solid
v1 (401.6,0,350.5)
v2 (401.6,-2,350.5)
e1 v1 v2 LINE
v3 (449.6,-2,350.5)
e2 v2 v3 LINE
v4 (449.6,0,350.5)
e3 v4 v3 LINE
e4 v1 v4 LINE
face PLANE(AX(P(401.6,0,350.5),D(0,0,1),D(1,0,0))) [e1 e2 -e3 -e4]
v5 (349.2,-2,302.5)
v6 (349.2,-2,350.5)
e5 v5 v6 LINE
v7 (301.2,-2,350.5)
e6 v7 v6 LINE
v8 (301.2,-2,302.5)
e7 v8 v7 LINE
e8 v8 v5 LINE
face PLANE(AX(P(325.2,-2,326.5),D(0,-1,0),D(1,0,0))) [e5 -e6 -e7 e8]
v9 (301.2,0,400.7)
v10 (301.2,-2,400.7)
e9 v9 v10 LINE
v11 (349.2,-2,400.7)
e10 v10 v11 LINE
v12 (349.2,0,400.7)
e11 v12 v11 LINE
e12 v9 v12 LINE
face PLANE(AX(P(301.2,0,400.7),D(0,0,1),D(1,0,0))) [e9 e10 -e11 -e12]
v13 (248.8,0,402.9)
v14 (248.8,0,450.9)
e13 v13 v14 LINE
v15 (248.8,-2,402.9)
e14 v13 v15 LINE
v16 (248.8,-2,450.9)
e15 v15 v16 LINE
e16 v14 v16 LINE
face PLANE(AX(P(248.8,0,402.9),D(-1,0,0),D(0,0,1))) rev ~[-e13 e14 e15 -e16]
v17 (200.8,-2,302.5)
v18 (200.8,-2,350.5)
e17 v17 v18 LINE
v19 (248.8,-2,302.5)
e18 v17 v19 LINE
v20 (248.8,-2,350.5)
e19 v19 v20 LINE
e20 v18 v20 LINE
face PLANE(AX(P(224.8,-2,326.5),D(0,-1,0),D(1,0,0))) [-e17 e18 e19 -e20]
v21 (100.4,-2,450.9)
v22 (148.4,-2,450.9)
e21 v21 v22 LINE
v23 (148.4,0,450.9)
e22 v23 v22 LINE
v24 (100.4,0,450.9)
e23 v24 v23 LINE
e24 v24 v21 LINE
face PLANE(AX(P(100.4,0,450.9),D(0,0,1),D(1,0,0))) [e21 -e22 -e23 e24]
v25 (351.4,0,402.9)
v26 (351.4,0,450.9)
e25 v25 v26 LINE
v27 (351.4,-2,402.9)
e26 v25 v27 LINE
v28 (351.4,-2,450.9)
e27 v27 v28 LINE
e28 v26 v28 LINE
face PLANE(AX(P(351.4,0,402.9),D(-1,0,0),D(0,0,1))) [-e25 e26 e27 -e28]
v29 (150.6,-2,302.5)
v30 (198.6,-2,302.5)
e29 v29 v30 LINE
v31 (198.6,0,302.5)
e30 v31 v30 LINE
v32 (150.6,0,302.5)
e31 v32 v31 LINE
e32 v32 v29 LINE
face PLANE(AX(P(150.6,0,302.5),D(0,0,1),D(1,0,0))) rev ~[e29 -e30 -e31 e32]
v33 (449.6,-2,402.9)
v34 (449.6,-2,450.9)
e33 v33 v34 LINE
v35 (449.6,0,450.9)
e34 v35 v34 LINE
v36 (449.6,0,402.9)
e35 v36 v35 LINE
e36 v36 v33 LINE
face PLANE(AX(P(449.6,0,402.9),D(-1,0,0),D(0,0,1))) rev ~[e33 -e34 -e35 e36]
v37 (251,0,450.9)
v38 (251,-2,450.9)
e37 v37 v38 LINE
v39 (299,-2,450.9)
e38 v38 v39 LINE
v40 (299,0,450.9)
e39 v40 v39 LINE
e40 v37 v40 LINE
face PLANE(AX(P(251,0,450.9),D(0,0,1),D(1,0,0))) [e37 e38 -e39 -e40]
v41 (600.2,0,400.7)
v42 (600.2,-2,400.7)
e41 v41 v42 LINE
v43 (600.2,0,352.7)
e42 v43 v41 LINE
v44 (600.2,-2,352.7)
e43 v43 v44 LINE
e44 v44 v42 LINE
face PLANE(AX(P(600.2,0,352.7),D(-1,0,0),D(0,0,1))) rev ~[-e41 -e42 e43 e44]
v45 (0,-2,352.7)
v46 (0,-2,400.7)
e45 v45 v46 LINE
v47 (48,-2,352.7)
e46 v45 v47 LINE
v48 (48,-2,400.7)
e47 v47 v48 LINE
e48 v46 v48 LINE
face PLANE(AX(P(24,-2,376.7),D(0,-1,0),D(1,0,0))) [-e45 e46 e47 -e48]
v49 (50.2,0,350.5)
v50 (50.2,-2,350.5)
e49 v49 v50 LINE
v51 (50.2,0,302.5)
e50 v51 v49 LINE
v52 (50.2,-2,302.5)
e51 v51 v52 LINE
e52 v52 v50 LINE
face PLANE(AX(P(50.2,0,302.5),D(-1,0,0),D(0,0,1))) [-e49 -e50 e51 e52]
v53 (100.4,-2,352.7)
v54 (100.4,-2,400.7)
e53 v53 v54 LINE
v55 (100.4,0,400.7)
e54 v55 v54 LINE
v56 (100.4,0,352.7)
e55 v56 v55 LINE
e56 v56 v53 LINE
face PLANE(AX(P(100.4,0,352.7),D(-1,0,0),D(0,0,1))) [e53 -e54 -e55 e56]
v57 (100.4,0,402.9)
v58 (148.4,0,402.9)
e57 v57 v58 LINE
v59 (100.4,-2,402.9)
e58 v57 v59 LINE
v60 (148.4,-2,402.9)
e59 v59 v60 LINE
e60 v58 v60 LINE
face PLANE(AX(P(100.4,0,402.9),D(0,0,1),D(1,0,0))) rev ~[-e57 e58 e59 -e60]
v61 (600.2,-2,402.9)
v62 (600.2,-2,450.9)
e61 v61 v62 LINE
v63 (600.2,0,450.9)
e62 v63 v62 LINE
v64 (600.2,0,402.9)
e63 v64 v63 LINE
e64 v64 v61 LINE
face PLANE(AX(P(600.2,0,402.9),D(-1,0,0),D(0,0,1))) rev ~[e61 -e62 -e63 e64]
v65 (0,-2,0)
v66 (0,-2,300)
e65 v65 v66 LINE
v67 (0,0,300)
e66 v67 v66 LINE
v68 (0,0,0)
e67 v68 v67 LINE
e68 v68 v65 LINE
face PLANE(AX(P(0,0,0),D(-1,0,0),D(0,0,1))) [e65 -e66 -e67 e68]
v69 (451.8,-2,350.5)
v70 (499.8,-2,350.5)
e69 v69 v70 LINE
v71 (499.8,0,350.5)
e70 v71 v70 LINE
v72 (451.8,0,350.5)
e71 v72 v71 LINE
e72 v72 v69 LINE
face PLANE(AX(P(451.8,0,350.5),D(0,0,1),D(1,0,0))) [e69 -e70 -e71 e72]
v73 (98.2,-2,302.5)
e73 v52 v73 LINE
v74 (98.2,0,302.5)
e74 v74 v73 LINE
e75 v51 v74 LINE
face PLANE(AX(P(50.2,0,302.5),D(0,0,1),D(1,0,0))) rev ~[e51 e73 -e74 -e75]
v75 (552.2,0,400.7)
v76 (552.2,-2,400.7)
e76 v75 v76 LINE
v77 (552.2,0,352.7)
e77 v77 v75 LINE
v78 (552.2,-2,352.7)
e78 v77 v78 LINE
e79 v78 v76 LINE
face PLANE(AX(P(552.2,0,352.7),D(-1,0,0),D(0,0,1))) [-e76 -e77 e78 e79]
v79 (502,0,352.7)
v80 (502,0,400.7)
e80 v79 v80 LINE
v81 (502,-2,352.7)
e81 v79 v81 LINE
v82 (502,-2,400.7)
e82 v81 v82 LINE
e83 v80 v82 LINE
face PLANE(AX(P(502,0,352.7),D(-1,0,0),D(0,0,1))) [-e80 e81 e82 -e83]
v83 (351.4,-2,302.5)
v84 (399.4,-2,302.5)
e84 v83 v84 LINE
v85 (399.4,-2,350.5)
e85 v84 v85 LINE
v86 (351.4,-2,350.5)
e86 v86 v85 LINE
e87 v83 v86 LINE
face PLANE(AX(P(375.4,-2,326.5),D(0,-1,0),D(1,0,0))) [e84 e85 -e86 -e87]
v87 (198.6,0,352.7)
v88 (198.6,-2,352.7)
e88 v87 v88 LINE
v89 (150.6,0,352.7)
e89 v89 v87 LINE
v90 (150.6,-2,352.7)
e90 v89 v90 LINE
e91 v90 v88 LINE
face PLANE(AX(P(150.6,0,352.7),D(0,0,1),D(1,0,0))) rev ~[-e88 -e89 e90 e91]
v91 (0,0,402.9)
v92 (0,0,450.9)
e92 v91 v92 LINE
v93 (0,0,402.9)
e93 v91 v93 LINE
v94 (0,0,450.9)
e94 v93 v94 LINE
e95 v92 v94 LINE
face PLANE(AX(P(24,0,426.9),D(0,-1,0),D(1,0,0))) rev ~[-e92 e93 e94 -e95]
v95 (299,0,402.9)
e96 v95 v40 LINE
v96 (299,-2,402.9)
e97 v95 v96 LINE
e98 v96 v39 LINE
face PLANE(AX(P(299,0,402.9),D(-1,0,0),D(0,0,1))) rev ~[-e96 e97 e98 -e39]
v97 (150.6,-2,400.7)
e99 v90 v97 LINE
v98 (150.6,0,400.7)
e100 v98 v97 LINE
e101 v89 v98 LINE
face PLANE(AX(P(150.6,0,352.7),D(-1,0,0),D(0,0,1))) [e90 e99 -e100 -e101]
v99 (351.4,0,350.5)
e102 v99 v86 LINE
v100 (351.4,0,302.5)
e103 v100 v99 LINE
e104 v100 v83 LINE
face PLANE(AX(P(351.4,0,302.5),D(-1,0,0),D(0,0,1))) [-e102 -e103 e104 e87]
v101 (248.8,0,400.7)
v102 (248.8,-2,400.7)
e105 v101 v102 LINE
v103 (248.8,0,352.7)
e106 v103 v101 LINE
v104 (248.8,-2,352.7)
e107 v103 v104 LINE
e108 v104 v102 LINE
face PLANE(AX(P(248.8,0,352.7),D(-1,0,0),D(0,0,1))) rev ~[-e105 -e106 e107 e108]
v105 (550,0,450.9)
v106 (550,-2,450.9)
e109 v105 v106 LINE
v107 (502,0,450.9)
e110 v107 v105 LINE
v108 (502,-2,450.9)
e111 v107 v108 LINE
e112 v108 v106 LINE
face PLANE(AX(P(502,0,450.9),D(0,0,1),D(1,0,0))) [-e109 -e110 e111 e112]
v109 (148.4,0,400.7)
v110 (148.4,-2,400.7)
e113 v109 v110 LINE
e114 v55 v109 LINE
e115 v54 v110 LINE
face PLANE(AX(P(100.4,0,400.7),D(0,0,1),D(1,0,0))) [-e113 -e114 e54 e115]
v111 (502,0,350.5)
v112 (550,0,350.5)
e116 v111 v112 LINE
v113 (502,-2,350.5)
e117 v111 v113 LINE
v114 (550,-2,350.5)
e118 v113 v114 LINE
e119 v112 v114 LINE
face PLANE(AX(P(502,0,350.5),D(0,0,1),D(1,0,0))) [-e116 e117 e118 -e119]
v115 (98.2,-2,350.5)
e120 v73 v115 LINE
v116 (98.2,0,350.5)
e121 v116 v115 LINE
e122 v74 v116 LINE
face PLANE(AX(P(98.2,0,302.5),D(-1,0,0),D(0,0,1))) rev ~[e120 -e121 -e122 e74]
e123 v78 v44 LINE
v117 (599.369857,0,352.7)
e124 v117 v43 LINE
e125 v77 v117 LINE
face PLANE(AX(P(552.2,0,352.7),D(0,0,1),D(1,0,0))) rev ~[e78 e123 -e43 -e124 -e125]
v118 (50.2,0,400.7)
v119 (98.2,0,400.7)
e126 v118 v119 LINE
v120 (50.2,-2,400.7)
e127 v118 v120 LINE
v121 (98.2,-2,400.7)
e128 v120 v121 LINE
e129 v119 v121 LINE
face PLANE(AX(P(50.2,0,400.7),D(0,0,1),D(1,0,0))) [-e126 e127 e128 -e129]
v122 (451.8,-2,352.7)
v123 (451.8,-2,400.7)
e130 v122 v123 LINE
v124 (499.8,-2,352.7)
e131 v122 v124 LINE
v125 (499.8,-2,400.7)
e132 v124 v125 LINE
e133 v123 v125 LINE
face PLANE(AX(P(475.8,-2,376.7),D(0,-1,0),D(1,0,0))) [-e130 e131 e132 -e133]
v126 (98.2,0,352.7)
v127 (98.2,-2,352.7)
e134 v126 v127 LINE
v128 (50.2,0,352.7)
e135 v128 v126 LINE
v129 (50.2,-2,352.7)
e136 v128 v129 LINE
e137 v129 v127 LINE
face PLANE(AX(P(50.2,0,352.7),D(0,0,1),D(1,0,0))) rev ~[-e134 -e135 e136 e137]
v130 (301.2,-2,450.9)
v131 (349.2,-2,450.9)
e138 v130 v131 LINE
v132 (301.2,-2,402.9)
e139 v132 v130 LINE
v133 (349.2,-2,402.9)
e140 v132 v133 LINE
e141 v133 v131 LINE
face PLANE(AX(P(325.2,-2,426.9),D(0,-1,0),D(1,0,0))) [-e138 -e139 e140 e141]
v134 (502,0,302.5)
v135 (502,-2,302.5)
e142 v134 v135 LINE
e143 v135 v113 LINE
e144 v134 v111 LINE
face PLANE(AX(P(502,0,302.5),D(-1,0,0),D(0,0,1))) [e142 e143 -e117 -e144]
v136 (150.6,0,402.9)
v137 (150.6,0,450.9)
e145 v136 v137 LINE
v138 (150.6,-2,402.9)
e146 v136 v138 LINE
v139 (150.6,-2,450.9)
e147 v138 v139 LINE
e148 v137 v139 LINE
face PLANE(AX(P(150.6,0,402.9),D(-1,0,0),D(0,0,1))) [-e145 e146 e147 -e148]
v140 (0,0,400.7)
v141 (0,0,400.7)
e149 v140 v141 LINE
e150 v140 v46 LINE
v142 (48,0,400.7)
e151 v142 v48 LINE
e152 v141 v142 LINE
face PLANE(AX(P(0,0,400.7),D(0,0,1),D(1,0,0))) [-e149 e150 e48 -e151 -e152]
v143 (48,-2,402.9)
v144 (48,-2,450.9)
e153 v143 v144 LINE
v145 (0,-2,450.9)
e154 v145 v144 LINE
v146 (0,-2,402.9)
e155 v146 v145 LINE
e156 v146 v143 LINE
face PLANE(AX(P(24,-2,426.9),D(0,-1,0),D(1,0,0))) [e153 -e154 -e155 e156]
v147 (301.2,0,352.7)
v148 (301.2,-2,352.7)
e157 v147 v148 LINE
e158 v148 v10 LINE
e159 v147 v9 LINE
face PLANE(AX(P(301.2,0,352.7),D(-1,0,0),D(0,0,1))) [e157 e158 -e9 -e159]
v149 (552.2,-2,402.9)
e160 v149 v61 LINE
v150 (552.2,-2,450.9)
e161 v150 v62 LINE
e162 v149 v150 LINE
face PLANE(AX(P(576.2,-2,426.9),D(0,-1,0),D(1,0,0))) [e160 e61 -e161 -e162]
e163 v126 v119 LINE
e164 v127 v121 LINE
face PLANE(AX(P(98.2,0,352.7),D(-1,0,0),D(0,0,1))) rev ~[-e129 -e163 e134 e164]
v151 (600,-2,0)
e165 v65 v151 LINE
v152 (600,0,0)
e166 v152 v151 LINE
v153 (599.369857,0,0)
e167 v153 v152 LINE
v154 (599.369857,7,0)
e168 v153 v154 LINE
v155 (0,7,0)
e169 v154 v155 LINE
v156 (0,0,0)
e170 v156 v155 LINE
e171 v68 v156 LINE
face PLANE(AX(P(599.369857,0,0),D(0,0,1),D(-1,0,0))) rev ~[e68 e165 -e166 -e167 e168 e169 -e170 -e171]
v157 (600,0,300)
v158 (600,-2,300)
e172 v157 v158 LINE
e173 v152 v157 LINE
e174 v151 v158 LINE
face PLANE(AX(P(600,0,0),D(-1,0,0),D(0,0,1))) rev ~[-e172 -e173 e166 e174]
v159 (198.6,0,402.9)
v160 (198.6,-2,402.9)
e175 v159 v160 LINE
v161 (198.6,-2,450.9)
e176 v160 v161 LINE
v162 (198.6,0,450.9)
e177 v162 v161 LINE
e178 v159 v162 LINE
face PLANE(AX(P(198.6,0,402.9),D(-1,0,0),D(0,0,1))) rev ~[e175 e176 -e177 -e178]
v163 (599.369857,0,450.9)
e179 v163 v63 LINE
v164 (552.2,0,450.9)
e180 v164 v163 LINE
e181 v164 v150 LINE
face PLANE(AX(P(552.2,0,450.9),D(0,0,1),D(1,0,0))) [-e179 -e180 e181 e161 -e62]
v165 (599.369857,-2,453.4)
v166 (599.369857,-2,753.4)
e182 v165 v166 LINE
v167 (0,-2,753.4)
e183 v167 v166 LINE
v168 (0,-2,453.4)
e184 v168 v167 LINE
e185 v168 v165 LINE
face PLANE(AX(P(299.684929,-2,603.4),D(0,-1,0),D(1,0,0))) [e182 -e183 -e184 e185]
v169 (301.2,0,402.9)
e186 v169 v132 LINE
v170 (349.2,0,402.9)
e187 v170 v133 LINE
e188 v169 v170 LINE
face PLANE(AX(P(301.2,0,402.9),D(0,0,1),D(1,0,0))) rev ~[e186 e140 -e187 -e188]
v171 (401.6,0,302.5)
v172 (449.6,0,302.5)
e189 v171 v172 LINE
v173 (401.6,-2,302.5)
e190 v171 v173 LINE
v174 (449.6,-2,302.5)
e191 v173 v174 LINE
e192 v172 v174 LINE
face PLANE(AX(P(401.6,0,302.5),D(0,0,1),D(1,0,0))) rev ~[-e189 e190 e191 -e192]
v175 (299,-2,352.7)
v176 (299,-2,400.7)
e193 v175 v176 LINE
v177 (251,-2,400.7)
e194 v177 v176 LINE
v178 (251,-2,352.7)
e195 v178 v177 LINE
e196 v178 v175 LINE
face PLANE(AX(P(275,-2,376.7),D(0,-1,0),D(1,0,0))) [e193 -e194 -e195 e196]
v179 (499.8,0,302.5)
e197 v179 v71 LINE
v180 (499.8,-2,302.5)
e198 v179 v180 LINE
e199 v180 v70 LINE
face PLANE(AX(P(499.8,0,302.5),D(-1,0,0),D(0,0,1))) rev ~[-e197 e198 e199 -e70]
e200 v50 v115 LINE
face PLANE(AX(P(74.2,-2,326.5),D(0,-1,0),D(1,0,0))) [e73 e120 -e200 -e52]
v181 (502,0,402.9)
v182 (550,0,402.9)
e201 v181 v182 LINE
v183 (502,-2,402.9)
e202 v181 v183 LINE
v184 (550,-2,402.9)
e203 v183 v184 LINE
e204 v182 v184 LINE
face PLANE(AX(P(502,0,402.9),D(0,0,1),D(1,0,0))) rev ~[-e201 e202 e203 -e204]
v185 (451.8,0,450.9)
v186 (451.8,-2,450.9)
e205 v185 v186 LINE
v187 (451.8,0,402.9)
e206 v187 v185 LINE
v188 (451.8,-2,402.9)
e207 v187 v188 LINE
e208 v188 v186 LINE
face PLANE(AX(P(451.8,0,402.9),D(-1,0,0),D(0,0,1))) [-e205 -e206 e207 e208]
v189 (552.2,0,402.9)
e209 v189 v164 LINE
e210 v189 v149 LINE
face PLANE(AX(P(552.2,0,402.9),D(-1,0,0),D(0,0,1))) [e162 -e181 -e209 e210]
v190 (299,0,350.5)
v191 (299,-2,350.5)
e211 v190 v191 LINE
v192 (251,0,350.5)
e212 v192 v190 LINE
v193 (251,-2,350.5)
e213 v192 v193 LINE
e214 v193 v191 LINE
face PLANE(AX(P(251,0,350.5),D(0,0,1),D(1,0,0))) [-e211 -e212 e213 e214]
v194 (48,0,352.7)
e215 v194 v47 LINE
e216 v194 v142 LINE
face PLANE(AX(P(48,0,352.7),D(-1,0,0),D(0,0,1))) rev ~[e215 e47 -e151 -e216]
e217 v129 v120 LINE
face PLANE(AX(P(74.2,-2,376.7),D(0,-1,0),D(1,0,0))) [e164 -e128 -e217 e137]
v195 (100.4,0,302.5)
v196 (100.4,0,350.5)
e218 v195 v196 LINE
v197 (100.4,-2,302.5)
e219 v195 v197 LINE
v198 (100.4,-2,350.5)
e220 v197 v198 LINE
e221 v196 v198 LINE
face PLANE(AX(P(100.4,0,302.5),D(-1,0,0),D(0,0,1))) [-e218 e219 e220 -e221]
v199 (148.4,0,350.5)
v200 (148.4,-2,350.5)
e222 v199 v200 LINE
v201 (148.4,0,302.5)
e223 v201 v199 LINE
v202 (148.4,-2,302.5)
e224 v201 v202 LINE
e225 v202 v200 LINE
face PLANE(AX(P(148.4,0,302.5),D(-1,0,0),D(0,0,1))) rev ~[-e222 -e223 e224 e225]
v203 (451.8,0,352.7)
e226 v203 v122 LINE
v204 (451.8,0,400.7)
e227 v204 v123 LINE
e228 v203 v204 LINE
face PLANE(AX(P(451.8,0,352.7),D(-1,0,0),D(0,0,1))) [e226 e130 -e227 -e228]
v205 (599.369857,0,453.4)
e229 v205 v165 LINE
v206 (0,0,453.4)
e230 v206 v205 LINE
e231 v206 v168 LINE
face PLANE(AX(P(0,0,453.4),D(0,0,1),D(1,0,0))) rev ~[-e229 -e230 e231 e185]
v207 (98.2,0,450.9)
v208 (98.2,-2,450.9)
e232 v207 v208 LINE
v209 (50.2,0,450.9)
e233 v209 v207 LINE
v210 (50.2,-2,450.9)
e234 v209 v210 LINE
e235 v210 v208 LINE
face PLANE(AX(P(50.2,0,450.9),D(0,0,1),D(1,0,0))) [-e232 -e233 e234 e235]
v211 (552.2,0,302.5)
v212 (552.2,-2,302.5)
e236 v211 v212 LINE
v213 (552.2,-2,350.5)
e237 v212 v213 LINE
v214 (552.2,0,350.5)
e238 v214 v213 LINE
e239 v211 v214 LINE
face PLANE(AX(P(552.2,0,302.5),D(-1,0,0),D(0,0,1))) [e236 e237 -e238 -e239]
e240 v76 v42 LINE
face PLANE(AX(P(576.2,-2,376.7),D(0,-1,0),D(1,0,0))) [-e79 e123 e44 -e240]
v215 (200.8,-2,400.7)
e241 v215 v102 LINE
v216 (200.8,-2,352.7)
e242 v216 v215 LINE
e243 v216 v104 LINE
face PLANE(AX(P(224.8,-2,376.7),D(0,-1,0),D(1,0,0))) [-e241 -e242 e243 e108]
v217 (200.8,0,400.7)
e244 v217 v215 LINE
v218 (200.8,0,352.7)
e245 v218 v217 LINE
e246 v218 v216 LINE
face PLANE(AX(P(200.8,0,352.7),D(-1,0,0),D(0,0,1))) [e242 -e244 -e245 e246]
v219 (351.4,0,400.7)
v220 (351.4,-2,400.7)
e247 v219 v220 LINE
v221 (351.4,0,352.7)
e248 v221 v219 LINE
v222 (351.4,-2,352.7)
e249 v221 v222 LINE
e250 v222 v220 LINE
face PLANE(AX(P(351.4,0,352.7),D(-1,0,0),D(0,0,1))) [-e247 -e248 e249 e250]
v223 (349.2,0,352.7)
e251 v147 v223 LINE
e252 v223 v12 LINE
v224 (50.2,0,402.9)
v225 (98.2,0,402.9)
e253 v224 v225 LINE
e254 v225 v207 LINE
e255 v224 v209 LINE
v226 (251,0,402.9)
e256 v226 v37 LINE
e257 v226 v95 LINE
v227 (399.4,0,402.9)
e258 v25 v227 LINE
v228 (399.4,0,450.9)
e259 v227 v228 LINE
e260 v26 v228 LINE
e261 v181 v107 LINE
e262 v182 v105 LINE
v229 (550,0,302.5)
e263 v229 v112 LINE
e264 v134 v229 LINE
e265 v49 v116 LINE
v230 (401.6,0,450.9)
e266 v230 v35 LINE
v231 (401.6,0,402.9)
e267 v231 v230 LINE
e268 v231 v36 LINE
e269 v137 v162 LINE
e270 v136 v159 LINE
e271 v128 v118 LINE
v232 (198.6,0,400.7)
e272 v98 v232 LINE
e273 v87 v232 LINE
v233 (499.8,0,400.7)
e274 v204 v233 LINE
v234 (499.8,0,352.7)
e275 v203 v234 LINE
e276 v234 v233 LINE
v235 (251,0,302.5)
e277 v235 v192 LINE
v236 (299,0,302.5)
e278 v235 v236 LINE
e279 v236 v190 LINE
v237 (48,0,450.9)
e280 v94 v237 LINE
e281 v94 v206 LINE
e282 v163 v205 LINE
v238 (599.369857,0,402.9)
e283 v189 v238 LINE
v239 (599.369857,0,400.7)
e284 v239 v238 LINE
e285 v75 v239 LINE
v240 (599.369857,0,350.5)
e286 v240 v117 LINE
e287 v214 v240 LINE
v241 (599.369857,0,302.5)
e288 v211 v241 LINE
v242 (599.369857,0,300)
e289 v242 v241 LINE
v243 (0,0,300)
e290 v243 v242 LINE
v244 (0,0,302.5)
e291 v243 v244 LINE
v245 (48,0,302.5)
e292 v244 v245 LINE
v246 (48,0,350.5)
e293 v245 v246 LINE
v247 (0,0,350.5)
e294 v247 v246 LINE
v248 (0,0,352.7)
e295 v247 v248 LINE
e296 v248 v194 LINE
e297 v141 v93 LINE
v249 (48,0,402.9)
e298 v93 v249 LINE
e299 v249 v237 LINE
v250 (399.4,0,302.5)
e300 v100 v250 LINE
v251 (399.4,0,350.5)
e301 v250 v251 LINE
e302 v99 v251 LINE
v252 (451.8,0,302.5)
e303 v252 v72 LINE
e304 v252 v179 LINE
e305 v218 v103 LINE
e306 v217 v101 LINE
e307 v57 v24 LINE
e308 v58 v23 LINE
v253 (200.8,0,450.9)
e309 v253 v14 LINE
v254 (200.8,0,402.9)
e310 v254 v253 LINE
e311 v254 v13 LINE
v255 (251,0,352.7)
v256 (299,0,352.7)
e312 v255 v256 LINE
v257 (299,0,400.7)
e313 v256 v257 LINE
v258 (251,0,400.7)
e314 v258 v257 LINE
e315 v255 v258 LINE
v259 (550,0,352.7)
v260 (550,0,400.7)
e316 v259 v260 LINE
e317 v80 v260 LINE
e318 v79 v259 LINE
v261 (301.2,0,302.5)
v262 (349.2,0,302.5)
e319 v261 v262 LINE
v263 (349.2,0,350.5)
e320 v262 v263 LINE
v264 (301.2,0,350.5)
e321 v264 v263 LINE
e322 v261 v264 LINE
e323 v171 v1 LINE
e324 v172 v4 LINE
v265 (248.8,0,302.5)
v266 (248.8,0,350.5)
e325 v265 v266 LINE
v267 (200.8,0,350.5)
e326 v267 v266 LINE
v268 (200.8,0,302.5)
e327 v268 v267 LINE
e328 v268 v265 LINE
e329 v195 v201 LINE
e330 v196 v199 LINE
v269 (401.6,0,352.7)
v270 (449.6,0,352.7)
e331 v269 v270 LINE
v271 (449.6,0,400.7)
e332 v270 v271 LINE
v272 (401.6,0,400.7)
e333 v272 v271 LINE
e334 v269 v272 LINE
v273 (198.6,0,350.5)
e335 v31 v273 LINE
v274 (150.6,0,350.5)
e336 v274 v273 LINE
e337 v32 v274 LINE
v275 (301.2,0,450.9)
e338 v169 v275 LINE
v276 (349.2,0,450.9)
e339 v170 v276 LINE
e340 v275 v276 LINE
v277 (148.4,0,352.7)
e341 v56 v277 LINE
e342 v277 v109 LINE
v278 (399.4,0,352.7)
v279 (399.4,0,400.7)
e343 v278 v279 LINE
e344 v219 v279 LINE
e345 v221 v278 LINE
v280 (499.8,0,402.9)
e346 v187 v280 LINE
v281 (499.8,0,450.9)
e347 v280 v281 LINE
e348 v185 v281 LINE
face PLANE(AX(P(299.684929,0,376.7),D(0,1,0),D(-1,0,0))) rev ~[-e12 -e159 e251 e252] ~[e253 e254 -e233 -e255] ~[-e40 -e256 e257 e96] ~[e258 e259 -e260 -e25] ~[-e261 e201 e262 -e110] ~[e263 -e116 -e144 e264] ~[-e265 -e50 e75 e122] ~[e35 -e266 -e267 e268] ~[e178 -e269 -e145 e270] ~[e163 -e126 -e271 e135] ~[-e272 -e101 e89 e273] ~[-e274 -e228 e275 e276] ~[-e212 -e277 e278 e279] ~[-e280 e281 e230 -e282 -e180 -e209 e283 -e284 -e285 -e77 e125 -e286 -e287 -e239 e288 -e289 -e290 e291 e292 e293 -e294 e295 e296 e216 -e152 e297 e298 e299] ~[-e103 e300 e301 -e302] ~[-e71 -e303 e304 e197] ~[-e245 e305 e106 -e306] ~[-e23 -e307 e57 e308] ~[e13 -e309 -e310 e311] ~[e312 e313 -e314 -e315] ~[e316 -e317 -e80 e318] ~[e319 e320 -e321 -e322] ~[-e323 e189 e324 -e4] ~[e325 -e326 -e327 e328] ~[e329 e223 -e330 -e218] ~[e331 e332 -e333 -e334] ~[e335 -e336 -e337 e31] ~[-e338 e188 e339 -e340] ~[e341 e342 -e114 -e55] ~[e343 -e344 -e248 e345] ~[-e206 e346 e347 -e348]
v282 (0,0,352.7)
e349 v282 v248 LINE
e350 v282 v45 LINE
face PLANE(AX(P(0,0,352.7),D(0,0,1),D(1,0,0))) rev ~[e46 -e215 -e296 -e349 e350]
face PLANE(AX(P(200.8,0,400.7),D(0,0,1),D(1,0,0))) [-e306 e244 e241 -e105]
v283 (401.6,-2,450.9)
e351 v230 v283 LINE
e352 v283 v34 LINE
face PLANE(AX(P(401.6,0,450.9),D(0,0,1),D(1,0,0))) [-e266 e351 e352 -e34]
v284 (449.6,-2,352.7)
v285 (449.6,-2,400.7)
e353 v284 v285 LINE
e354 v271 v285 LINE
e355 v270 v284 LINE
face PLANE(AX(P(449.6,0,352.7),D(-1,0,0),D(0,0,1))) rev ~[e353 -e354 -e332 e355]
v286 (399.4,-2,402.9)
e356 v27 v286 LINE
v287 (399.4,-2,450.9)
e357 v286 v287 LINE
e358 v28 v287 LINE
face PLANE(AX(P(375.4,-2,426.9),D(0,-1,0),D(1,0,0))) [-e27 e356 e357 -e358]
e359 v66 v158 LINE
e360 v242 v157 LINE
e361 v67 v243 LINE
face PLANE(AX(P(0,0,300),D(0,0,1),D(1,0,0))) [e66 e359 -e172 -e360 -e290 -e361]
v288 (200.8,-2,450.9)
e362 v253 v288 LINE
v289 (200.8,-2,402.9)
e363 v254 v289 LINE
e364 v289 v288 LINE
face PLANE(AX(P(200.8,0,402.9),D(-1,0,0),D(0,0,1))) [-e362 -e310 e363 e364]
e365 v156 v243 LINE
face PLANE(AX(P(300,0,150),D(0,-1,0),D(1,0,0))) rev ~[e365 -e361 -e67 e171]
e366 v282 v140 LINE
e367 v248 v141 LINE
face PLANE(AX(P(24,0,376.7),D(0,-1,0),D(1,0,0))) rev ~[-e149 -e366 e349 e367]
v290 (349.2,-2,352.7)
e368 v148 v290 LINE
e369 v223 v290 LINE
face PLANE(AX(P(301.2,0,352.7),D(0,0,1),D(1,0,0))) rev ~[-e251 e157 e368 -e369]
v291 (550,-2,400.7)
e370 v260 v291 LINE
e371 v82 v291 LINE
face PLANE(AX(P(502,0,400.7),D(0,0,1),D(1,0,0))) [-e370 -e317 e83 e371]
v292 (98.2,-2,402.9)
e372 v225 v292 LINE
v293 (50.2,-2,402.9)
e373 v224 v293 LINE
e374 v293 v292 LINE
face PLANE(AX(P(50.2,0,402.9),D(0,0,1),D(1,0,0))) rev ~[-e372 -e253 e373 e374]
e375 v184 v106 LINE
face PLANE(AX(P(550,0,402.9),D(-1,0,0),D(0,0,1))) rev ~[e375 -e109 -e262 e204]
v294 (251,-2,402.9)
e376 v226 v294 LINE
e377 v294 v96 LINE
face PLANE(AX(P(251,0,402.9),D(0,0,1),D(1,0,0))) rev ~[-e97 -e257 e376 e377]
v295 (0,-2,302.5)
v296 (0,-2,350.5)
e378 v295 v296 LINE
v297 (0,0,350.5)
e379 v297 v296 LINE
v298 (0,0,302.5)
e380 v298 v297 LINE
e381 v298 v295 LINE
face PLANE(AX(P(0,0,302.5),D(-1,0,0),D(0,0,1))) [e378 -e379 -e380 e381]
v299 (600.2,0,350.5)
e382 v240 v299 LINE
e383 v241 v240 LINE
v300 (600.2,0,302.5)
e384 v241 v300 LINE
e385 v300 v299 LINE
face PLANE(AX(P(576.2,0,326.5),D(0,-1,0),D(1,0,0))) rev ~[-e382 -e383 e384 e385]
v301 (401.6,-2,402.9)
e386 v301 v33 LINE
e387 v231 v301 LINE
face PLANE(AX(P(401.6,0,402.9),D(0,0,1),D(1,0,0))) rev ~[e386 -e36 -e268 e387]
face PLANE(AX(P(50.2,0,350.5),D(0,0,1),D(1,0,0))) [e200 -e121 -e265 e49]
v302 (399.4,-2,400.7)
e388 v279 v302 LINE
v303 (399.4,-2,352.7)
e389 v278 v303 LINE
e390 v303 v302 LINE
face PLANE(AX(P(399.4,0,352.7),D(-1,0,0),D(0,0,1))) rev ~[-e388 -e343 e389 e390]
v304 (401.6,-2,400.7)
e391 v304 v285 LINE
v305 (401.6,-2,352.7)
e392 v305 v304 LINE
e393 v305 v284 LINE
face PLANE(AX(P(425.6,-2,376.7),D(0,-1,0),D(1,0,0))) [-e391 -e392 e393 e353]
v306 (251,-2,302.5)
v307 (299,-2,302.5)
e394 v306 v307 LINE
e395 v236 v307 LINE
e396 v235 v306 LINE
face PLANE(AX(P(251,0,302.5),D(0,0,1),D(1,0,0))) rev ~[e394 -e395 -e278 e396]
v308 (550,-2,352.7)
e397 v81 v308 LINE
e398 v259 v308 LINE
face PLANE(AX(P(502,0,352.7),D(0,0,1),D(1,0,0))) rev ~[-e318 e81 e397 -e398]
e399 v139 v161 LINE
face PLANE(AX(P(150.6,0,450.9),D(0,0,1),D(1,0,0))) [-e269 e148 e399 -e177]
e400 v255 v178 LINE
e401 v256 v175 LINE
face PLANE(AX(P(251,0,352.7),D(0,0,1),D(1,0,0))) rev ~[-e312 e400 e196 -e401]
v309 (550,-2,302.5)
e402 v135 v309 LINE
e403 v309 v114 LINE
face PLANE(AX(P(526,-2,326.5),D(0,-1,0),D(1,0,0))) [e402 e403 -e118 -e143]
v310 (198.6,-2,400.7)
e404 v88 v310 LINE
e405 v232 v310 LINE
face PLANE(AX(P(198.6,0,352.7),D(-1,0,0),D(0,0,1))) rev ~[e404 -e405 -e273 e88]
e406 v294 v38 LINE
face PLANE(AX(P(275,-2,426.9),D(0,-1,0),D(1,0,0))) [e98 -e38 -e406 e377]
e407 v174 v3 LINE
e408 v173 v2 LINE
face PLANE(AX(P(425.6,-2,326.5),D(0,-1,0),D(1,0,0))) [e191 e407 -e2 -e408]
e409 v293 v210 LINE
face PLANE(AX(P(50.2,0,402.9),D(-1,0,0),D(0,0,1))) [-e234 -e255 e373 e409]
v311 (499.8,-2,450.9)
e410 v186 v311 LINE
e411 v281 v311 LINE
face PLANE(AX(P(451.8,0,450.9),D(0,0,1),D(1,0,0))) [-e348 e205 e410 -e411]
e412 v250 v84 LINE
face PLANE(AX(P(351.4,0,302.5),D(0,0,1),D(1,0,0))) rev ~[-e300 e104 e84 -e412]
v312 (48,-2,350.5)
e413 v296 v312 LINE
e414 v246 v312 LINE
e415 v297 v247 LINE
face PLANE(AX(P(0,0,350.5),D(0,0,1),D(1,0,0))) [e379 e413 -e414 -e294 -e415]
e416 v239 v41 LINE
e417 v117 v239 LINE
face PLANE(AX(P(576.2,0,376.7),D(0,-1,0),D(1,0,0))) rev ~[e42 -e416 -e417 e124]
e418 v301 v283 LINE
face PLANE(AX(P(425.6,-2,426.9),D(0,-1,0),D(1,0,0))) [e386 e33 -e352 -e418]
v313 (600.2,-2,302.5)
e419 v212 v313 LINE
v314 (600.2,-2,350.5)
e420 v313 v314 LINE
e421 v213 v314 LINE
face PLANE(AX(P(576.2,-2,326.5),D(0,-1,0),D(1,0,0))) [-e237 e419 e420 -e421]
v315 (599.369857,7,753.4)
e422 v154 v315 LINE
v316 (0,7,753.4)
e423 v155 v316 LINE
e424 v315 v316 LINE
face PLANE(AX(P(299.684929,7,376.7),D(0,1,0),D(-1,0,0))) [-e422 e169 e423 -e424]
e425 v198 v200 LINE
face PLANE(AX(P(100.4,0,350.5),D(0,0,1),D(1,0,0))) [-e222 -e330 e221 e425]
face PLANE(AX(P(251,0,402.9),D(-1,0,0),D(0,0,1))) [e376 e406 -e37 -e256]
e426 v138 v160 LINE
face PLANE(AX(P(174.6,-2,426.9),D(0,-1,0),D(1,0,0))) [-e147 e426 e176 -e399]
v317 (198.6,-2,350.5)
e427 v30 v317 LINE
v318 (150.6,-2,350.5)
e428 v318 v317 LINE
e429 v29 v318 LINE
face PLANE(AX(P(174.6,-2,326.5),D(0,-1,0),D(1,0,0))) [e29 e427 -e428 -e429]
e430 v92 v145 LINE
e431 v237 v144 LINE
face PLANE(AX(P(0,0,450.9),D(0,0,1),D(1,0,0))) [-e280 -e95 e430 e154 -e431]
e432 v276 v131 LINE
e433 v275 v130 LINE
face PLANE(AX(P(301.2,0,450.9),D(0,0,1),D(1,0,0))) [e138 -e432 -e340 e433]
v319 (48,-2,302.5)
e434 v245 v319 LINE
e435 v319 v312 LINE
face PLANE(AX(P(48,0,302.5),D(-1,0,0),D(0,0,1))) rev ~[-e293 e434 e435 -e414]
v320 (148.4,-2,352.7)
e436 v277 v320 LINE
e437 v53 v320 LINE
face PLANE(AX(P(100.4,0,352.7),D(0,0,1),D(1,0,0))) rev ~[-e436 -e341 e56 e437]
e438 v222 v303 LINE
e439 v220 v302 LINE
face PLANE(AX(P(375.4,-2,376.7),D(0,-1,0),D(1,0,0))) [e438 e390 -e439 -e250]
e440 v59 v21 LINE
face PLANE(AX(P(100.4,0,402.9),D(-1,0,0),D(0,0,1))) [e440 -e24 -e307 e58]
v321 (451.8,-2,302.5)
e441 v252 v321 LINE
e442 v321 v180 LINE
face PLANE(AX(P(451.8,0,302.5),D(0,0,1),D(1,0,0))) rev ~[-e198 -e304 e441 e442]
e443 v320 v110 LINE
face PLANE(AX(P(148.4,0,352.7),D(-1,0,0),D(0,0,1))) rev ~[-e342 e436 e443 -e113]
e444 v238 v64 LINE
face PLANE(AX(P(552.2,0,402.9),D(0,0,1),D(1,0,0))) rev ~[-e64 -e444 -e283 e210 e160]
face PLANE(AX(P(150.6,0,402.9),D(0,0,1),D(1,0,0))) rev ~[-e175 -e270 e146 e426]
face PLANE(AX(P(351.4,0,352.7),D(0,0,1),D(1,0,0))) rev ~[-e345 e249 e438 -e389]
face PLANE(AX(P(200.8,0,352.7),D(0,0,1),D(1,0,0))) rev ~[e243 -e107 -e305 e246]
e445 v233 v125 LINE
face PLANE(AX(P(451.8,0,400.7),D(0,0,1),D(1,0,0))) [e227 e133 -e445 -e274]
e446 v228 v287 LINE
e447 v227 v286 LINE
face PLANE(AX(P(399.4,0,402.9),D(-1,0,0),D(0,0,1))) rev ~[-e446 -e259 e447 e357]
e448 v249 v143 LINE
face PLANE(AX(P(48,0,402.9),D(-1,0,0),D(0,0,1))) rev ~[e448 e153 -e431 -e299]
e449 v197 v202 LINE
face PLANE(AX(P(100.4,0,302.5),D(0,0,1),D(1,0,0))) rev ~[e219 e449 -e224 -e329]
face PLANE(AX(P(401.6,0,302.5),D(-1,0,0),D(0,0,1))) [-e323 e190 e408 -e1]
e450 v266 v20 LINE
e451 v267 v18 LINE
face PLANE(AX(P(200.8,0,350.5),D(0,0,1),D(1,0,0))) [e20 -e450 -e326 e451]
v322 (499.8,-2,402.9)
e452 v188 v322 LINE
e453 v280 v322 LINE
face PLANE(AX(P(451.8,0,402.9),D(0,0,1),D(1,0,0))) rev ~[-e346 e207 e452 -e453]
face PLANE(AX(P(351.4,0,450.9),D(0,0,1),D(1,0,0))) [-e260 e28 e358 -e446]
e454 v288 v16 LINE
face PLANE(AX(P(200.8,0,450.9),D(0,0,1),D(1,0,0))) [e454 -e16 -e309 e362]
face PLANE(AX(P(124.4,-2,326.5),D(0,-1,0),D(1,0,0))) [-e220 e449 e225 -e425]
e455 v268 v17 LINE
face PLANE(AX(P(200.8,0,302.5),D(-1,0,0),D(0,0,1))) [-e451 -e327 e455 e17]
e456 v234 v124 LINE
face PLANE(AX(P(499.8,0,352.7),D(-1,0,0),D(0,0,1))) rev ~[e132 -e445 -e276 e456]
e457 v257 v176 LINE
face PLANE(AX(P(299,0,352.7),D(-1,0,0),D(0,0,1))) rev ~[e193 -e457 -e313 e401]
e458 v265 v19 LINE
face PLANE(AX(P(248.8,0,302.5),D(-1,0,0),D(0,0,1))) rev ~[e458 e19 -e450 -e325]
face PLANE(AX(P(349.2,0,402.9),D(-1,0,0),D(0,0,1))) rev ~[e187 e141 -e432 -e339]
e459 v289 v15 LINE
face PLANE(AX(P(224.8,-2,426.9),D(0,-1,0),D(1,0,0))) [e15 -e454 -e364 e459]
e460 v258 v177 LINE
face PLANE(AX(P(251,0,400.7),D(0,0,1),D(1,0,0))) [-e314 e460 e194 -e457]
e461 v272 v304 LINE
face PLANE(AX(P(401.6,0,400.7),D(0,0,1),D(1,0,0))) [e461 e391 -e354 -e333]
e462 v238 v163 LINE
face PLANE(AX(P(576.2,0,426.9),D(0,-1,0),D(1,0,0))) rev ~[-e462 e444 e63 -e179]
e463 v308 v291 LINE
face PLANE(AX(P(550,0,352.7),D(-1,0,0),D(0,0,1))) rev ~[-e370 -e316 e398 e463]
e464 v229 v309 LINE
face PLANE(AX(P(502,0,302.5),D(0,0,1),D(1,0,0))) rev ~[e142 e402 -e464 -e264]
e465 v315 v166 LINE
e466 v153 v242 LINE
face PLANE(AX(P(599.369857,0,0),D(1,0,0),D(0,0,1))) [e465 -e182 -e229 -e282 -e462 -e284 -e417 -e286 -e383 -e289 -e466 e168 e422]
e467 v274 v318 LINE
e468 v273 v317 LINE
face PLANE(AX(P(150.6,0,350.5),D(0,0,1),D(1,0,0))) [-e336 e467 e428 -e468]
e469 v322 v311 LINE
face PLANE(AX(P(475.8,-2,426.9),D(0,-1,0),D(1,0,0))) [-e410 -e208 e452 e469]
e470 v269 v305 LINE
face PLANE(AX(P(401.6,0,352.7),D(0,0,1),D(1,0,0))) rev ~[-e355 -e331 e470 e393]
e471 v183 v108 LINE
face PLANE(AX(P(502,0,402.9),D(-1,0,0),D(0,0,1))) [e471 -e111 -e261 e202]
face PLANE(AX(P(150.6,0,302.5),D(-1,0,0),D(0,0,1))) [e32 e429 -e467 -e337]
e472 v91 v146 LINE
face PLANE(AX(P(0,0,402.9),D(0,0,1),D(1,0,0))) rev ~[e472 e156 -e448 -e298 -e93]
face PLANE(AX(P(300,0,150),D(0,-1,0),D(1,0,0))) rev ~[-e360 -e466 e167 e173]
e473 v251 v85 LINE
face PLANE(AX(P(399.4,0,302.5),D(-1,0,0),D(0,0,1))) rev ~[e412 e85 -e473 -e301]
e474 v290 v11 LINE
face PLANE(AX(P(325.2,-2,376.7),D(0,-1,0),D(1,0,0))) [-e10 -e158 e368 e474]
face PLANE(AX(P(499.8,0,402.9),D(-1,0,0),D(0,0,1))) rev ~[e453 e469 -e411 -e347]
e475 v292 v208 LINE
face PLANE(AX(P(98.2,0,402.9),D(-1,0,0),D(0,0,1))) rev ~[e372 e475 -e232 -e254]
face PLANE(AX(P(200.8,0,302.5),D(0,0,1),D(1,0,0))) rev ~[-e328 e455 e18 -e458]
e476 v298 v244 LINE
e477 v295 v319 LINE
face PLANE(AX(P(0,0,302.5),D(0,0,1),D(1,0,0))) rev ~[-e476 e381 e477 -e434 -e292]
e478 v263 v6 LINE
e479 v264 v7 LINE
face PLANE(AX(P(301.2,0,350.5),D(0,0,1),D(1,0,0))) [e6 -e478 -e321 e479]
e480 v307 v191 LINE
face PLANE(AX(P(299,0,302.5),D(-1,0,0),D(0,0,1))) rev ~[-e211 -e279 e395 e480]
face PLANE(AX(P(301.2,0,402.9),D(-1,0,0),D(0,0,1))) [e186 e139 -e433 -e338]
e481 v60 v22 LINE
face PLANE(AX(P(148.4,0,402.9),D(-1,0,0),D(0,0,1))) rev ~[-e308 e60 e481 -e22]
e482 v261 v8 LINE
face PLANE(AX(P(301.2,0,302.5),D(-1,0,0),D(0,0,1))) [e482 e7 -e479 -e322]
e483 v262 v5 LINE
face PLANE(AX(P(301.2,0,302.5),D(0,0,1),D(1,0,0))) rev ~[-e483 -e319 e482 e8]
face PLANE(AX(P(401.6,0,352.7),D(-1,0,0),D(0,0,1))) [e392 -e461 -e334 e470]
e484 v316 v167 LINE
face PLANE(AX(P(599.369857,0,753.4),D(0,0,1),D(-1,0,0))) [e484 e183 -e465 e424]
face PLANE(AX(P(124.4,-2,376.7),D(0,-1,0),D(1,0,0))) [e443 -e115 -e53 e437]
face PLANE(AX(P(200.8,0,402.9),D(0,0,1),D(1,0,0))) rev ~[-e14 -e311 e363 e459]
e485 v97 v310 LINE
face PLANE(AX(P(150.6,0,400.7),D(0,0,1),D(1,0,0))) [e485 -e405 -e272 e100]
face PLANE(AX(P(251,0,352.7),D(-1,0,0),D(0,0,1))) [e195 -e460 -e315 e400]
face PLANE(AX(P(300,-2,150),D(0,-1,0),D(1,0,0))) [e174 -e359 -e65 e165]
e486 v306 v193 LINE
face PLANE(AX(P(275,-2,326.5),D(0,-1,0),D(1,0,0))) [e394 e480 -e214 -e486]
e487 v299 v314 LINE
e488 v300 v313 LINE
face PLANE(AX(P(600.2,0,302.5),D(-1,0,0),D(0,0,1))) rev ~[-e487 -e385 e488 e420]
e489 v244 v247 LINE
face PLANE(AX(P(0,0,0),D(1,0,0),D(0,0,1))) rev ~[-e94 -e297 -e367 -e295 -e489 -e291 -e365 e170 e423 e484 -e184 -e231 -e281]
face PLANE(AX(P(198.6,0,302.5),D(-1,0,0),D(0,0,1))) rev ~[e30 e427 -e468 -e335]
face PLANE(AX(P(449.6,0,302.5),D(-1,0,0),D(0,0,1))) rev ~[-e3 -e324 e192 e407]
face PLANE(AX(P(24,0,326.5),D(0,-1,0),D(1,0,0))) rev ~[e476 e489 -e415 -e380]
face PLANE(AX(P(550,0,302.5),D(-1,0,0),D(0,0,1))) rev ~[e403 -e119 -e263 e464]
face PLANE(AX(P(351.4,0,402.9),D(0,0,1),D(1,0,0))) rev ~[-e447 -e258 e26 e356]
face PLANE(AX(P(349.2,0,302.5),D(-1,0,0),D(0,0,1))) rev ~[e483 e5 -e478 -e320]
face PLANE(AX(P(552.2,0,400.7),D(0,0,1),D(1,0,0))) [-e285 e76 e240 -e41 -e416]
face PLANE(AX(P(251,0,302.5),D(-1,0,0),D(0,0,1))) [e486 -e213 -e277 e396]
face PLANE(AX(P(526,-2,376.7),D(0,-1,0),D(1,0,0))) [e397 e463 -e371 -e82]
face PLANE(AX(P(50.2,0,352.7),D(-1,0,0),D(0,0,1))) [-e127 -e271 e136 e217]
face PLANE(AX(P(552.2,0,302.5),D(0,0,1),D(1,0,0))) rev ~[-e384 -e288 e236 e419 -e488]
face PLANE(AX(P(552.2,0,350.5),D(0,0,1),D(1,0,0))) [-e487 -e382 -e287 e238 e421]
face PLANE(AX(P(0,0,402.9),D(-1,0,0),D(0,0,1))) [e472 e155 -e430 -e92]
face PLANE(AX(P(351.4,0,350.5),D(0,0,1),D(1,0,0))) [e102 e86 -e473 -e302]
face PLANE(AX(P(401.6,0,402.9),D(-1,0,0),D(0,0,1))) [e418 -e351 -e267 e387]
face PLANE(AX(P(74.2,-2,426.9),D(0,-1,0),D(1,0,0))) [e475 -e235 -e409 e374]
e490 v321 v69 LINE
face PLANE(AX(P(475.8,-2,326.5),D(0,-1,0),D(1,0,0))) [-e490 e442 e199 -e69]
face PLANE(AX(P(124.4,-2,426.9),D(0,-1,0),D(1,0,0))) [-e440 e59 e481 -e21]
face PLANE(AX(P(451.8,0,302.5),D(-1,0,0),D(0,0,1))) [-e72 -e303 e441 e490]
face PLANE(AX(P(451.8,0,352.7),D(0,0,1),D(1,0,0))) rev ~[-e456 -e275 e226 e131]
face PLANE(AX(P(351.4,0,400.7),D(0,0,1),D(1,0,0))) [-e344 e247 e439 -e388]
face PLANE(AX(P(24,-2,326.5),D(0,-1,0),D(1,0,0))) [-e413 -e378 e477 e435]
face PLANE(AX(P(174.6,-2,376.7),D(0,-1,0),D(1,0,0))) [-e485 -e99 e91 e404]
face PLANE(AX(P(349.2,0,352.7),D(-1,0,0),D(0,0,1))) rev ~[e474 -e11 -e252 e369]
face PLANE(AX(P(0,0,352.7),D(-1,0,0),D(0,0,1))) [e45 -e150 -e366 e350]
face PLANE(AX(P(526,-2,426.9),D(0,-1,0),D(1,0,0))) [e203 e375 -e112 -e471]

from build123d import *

# Parameters (mm, degrees)
F0_W     = 600
F0_H     = 300
F0_W_2   = 48
F0_H_2   = 48
F0_W_3   = 599.369857
F1_DEPTH = 2
F2_W     = 599.369857
F2_H     = 753.4
F3_DEPTH = 7


with BuildPart() as f1:
    # F0 (on Front) → F1 (new body)
    with BuildSketch(Plane.XZ):
        with Locations((300, 150)):
            Rectangle(F0_W, F0_H)
        with Locations((24, 326.5)):
            Rectangle(F0_W_2, F0_H_2)
        with Locations((299.684929, 603.4)):
            Rectangle(F0_W_3, F0_H)
        with Locations((24, 376.7)):
            Rectangle(F0_W_2, F0_H_2)
        with Locations((24, 426.9)):
            Rectangle(F0_W_2, F0_H_2)
        with Locations((74.2, 326.5)):
            Rectangle(F0_W_2, F0_H_2)
        with Locations((74.2, 376.7)):
            Rectangle(F0_W_2, F0_H_2)
        with Locations((74.2, 426.9)):
            Rectangle(F0_W_2, F0_H_2)
        with Locations((124.4, 326.5)):
            Rectangle(F0_W_2, F0_H_2)
        with Locations((124.4, 376.7)):
            Rectangle(F0_W_2, F0_H_2)
        with Locations((124.4, 426.9)):
            Rectangle(F0_W_2, F0_H_2)
        with Locations((174.6, 326.5)):
            Rectangle(F0_W_2, F0_H_2)
        with Locations((174.6, 376.7)):
            Rectangle(F0_W_2, F0_H_2)
        with Locations((174.6, 426.9)):
            Rectangle(F0_W_2, F0_H_2)
        with Locations((224.8, 326.5)):
            Rectangle(F0_W_2, F0_H_2)
        with Locations((224.8, 376.7)):
            Rectangle(F0_W_2, F0_H_2)
        with Locations((224.8, 426.9)):
            Rectangle(F0_W_2, F0_H_2)
        with Locations((275, 326.5)):
            Rectangle(F0_W_2, F0_H_2)
        with Locations((275, 376.7)):
            Rectangle(F0_W_2, F0_H_2)
        with Locations((275, 426.9)):
            Rectangle(F0_W_2, F0_H_2)
        with Locations((325.2, 326.5)):
            Rectangle(F0_W_2, F0_H_2)
        with Locations((325.2, 376.7)):
            Rectangle(F0_W_2, F0_H_2)
        with Locations((325.2, 426.9)):
            Rectangle(F0_W_2, F0_H_2)
        with Locations((375.4, 326.5)):
            Rectangle(F0_W_2, F0_H_2)
        with Locations((375.4, 376.7)):
            Rectangle(F0_W_2, F0_H_2)
        with Locations((375.4, 426.9)):
            Rectangle(F0_W_2, F0_H_2)
        with Locations((425.6, 326.5)):
            Rectangle(F0_W_2, F0_H_2)
        with Locations((425.6, 376.7)):
            Rectangle(F0_W_2, F0_H_2)
        with Locations((425.6, 426.9)):
            Rectangle(F0_W_2, F0_H_2)
        with Locations((475.8, 326.5)):
            Rectangle(F0_W_2, F0_H_2)
        with Locations((475.8, 376.7)):
            Rectangle(F0_W_2, F0_H_2)
        with Locations((475.8, 426.9)):
            Rectangle(F0_W_2, F0_H_2)
        with Locations((526, 326.5)):
            Rectangle(F0_W_2, F0_H_2)
        with Locations((526, 376.7)):
            Rectangle(F0_W_2, F0_H_2)
        with Locations((526, 426.9)):
            Rectangle(F0_W_2, F0_H_2)
        with Locations((576.2, 326.5)):
            Rectangle(F0_W_2, F0_H_2)
        with Locations((576.2, 376.7)):
            Rectangle(F0_W_2, F0_H_2)
        with Locations((576.2, 426.9)):
            Rectangle(F0_W_2, F0_H_2)
    extrude(amount=F1_DEPTH)

    # F2 (on face) → F3 (join)
    with BuildSketch(Plane(origin=(0, 0, 0), x_dir=(-1, 0, 0), z_dir=(0, 1, 0))):
        with Locations((-299.684929, 376.7)):
            Rectangle(F2_W, F2_H)
    extrude(amount=F3_DEPTH)


solid = f1.part
